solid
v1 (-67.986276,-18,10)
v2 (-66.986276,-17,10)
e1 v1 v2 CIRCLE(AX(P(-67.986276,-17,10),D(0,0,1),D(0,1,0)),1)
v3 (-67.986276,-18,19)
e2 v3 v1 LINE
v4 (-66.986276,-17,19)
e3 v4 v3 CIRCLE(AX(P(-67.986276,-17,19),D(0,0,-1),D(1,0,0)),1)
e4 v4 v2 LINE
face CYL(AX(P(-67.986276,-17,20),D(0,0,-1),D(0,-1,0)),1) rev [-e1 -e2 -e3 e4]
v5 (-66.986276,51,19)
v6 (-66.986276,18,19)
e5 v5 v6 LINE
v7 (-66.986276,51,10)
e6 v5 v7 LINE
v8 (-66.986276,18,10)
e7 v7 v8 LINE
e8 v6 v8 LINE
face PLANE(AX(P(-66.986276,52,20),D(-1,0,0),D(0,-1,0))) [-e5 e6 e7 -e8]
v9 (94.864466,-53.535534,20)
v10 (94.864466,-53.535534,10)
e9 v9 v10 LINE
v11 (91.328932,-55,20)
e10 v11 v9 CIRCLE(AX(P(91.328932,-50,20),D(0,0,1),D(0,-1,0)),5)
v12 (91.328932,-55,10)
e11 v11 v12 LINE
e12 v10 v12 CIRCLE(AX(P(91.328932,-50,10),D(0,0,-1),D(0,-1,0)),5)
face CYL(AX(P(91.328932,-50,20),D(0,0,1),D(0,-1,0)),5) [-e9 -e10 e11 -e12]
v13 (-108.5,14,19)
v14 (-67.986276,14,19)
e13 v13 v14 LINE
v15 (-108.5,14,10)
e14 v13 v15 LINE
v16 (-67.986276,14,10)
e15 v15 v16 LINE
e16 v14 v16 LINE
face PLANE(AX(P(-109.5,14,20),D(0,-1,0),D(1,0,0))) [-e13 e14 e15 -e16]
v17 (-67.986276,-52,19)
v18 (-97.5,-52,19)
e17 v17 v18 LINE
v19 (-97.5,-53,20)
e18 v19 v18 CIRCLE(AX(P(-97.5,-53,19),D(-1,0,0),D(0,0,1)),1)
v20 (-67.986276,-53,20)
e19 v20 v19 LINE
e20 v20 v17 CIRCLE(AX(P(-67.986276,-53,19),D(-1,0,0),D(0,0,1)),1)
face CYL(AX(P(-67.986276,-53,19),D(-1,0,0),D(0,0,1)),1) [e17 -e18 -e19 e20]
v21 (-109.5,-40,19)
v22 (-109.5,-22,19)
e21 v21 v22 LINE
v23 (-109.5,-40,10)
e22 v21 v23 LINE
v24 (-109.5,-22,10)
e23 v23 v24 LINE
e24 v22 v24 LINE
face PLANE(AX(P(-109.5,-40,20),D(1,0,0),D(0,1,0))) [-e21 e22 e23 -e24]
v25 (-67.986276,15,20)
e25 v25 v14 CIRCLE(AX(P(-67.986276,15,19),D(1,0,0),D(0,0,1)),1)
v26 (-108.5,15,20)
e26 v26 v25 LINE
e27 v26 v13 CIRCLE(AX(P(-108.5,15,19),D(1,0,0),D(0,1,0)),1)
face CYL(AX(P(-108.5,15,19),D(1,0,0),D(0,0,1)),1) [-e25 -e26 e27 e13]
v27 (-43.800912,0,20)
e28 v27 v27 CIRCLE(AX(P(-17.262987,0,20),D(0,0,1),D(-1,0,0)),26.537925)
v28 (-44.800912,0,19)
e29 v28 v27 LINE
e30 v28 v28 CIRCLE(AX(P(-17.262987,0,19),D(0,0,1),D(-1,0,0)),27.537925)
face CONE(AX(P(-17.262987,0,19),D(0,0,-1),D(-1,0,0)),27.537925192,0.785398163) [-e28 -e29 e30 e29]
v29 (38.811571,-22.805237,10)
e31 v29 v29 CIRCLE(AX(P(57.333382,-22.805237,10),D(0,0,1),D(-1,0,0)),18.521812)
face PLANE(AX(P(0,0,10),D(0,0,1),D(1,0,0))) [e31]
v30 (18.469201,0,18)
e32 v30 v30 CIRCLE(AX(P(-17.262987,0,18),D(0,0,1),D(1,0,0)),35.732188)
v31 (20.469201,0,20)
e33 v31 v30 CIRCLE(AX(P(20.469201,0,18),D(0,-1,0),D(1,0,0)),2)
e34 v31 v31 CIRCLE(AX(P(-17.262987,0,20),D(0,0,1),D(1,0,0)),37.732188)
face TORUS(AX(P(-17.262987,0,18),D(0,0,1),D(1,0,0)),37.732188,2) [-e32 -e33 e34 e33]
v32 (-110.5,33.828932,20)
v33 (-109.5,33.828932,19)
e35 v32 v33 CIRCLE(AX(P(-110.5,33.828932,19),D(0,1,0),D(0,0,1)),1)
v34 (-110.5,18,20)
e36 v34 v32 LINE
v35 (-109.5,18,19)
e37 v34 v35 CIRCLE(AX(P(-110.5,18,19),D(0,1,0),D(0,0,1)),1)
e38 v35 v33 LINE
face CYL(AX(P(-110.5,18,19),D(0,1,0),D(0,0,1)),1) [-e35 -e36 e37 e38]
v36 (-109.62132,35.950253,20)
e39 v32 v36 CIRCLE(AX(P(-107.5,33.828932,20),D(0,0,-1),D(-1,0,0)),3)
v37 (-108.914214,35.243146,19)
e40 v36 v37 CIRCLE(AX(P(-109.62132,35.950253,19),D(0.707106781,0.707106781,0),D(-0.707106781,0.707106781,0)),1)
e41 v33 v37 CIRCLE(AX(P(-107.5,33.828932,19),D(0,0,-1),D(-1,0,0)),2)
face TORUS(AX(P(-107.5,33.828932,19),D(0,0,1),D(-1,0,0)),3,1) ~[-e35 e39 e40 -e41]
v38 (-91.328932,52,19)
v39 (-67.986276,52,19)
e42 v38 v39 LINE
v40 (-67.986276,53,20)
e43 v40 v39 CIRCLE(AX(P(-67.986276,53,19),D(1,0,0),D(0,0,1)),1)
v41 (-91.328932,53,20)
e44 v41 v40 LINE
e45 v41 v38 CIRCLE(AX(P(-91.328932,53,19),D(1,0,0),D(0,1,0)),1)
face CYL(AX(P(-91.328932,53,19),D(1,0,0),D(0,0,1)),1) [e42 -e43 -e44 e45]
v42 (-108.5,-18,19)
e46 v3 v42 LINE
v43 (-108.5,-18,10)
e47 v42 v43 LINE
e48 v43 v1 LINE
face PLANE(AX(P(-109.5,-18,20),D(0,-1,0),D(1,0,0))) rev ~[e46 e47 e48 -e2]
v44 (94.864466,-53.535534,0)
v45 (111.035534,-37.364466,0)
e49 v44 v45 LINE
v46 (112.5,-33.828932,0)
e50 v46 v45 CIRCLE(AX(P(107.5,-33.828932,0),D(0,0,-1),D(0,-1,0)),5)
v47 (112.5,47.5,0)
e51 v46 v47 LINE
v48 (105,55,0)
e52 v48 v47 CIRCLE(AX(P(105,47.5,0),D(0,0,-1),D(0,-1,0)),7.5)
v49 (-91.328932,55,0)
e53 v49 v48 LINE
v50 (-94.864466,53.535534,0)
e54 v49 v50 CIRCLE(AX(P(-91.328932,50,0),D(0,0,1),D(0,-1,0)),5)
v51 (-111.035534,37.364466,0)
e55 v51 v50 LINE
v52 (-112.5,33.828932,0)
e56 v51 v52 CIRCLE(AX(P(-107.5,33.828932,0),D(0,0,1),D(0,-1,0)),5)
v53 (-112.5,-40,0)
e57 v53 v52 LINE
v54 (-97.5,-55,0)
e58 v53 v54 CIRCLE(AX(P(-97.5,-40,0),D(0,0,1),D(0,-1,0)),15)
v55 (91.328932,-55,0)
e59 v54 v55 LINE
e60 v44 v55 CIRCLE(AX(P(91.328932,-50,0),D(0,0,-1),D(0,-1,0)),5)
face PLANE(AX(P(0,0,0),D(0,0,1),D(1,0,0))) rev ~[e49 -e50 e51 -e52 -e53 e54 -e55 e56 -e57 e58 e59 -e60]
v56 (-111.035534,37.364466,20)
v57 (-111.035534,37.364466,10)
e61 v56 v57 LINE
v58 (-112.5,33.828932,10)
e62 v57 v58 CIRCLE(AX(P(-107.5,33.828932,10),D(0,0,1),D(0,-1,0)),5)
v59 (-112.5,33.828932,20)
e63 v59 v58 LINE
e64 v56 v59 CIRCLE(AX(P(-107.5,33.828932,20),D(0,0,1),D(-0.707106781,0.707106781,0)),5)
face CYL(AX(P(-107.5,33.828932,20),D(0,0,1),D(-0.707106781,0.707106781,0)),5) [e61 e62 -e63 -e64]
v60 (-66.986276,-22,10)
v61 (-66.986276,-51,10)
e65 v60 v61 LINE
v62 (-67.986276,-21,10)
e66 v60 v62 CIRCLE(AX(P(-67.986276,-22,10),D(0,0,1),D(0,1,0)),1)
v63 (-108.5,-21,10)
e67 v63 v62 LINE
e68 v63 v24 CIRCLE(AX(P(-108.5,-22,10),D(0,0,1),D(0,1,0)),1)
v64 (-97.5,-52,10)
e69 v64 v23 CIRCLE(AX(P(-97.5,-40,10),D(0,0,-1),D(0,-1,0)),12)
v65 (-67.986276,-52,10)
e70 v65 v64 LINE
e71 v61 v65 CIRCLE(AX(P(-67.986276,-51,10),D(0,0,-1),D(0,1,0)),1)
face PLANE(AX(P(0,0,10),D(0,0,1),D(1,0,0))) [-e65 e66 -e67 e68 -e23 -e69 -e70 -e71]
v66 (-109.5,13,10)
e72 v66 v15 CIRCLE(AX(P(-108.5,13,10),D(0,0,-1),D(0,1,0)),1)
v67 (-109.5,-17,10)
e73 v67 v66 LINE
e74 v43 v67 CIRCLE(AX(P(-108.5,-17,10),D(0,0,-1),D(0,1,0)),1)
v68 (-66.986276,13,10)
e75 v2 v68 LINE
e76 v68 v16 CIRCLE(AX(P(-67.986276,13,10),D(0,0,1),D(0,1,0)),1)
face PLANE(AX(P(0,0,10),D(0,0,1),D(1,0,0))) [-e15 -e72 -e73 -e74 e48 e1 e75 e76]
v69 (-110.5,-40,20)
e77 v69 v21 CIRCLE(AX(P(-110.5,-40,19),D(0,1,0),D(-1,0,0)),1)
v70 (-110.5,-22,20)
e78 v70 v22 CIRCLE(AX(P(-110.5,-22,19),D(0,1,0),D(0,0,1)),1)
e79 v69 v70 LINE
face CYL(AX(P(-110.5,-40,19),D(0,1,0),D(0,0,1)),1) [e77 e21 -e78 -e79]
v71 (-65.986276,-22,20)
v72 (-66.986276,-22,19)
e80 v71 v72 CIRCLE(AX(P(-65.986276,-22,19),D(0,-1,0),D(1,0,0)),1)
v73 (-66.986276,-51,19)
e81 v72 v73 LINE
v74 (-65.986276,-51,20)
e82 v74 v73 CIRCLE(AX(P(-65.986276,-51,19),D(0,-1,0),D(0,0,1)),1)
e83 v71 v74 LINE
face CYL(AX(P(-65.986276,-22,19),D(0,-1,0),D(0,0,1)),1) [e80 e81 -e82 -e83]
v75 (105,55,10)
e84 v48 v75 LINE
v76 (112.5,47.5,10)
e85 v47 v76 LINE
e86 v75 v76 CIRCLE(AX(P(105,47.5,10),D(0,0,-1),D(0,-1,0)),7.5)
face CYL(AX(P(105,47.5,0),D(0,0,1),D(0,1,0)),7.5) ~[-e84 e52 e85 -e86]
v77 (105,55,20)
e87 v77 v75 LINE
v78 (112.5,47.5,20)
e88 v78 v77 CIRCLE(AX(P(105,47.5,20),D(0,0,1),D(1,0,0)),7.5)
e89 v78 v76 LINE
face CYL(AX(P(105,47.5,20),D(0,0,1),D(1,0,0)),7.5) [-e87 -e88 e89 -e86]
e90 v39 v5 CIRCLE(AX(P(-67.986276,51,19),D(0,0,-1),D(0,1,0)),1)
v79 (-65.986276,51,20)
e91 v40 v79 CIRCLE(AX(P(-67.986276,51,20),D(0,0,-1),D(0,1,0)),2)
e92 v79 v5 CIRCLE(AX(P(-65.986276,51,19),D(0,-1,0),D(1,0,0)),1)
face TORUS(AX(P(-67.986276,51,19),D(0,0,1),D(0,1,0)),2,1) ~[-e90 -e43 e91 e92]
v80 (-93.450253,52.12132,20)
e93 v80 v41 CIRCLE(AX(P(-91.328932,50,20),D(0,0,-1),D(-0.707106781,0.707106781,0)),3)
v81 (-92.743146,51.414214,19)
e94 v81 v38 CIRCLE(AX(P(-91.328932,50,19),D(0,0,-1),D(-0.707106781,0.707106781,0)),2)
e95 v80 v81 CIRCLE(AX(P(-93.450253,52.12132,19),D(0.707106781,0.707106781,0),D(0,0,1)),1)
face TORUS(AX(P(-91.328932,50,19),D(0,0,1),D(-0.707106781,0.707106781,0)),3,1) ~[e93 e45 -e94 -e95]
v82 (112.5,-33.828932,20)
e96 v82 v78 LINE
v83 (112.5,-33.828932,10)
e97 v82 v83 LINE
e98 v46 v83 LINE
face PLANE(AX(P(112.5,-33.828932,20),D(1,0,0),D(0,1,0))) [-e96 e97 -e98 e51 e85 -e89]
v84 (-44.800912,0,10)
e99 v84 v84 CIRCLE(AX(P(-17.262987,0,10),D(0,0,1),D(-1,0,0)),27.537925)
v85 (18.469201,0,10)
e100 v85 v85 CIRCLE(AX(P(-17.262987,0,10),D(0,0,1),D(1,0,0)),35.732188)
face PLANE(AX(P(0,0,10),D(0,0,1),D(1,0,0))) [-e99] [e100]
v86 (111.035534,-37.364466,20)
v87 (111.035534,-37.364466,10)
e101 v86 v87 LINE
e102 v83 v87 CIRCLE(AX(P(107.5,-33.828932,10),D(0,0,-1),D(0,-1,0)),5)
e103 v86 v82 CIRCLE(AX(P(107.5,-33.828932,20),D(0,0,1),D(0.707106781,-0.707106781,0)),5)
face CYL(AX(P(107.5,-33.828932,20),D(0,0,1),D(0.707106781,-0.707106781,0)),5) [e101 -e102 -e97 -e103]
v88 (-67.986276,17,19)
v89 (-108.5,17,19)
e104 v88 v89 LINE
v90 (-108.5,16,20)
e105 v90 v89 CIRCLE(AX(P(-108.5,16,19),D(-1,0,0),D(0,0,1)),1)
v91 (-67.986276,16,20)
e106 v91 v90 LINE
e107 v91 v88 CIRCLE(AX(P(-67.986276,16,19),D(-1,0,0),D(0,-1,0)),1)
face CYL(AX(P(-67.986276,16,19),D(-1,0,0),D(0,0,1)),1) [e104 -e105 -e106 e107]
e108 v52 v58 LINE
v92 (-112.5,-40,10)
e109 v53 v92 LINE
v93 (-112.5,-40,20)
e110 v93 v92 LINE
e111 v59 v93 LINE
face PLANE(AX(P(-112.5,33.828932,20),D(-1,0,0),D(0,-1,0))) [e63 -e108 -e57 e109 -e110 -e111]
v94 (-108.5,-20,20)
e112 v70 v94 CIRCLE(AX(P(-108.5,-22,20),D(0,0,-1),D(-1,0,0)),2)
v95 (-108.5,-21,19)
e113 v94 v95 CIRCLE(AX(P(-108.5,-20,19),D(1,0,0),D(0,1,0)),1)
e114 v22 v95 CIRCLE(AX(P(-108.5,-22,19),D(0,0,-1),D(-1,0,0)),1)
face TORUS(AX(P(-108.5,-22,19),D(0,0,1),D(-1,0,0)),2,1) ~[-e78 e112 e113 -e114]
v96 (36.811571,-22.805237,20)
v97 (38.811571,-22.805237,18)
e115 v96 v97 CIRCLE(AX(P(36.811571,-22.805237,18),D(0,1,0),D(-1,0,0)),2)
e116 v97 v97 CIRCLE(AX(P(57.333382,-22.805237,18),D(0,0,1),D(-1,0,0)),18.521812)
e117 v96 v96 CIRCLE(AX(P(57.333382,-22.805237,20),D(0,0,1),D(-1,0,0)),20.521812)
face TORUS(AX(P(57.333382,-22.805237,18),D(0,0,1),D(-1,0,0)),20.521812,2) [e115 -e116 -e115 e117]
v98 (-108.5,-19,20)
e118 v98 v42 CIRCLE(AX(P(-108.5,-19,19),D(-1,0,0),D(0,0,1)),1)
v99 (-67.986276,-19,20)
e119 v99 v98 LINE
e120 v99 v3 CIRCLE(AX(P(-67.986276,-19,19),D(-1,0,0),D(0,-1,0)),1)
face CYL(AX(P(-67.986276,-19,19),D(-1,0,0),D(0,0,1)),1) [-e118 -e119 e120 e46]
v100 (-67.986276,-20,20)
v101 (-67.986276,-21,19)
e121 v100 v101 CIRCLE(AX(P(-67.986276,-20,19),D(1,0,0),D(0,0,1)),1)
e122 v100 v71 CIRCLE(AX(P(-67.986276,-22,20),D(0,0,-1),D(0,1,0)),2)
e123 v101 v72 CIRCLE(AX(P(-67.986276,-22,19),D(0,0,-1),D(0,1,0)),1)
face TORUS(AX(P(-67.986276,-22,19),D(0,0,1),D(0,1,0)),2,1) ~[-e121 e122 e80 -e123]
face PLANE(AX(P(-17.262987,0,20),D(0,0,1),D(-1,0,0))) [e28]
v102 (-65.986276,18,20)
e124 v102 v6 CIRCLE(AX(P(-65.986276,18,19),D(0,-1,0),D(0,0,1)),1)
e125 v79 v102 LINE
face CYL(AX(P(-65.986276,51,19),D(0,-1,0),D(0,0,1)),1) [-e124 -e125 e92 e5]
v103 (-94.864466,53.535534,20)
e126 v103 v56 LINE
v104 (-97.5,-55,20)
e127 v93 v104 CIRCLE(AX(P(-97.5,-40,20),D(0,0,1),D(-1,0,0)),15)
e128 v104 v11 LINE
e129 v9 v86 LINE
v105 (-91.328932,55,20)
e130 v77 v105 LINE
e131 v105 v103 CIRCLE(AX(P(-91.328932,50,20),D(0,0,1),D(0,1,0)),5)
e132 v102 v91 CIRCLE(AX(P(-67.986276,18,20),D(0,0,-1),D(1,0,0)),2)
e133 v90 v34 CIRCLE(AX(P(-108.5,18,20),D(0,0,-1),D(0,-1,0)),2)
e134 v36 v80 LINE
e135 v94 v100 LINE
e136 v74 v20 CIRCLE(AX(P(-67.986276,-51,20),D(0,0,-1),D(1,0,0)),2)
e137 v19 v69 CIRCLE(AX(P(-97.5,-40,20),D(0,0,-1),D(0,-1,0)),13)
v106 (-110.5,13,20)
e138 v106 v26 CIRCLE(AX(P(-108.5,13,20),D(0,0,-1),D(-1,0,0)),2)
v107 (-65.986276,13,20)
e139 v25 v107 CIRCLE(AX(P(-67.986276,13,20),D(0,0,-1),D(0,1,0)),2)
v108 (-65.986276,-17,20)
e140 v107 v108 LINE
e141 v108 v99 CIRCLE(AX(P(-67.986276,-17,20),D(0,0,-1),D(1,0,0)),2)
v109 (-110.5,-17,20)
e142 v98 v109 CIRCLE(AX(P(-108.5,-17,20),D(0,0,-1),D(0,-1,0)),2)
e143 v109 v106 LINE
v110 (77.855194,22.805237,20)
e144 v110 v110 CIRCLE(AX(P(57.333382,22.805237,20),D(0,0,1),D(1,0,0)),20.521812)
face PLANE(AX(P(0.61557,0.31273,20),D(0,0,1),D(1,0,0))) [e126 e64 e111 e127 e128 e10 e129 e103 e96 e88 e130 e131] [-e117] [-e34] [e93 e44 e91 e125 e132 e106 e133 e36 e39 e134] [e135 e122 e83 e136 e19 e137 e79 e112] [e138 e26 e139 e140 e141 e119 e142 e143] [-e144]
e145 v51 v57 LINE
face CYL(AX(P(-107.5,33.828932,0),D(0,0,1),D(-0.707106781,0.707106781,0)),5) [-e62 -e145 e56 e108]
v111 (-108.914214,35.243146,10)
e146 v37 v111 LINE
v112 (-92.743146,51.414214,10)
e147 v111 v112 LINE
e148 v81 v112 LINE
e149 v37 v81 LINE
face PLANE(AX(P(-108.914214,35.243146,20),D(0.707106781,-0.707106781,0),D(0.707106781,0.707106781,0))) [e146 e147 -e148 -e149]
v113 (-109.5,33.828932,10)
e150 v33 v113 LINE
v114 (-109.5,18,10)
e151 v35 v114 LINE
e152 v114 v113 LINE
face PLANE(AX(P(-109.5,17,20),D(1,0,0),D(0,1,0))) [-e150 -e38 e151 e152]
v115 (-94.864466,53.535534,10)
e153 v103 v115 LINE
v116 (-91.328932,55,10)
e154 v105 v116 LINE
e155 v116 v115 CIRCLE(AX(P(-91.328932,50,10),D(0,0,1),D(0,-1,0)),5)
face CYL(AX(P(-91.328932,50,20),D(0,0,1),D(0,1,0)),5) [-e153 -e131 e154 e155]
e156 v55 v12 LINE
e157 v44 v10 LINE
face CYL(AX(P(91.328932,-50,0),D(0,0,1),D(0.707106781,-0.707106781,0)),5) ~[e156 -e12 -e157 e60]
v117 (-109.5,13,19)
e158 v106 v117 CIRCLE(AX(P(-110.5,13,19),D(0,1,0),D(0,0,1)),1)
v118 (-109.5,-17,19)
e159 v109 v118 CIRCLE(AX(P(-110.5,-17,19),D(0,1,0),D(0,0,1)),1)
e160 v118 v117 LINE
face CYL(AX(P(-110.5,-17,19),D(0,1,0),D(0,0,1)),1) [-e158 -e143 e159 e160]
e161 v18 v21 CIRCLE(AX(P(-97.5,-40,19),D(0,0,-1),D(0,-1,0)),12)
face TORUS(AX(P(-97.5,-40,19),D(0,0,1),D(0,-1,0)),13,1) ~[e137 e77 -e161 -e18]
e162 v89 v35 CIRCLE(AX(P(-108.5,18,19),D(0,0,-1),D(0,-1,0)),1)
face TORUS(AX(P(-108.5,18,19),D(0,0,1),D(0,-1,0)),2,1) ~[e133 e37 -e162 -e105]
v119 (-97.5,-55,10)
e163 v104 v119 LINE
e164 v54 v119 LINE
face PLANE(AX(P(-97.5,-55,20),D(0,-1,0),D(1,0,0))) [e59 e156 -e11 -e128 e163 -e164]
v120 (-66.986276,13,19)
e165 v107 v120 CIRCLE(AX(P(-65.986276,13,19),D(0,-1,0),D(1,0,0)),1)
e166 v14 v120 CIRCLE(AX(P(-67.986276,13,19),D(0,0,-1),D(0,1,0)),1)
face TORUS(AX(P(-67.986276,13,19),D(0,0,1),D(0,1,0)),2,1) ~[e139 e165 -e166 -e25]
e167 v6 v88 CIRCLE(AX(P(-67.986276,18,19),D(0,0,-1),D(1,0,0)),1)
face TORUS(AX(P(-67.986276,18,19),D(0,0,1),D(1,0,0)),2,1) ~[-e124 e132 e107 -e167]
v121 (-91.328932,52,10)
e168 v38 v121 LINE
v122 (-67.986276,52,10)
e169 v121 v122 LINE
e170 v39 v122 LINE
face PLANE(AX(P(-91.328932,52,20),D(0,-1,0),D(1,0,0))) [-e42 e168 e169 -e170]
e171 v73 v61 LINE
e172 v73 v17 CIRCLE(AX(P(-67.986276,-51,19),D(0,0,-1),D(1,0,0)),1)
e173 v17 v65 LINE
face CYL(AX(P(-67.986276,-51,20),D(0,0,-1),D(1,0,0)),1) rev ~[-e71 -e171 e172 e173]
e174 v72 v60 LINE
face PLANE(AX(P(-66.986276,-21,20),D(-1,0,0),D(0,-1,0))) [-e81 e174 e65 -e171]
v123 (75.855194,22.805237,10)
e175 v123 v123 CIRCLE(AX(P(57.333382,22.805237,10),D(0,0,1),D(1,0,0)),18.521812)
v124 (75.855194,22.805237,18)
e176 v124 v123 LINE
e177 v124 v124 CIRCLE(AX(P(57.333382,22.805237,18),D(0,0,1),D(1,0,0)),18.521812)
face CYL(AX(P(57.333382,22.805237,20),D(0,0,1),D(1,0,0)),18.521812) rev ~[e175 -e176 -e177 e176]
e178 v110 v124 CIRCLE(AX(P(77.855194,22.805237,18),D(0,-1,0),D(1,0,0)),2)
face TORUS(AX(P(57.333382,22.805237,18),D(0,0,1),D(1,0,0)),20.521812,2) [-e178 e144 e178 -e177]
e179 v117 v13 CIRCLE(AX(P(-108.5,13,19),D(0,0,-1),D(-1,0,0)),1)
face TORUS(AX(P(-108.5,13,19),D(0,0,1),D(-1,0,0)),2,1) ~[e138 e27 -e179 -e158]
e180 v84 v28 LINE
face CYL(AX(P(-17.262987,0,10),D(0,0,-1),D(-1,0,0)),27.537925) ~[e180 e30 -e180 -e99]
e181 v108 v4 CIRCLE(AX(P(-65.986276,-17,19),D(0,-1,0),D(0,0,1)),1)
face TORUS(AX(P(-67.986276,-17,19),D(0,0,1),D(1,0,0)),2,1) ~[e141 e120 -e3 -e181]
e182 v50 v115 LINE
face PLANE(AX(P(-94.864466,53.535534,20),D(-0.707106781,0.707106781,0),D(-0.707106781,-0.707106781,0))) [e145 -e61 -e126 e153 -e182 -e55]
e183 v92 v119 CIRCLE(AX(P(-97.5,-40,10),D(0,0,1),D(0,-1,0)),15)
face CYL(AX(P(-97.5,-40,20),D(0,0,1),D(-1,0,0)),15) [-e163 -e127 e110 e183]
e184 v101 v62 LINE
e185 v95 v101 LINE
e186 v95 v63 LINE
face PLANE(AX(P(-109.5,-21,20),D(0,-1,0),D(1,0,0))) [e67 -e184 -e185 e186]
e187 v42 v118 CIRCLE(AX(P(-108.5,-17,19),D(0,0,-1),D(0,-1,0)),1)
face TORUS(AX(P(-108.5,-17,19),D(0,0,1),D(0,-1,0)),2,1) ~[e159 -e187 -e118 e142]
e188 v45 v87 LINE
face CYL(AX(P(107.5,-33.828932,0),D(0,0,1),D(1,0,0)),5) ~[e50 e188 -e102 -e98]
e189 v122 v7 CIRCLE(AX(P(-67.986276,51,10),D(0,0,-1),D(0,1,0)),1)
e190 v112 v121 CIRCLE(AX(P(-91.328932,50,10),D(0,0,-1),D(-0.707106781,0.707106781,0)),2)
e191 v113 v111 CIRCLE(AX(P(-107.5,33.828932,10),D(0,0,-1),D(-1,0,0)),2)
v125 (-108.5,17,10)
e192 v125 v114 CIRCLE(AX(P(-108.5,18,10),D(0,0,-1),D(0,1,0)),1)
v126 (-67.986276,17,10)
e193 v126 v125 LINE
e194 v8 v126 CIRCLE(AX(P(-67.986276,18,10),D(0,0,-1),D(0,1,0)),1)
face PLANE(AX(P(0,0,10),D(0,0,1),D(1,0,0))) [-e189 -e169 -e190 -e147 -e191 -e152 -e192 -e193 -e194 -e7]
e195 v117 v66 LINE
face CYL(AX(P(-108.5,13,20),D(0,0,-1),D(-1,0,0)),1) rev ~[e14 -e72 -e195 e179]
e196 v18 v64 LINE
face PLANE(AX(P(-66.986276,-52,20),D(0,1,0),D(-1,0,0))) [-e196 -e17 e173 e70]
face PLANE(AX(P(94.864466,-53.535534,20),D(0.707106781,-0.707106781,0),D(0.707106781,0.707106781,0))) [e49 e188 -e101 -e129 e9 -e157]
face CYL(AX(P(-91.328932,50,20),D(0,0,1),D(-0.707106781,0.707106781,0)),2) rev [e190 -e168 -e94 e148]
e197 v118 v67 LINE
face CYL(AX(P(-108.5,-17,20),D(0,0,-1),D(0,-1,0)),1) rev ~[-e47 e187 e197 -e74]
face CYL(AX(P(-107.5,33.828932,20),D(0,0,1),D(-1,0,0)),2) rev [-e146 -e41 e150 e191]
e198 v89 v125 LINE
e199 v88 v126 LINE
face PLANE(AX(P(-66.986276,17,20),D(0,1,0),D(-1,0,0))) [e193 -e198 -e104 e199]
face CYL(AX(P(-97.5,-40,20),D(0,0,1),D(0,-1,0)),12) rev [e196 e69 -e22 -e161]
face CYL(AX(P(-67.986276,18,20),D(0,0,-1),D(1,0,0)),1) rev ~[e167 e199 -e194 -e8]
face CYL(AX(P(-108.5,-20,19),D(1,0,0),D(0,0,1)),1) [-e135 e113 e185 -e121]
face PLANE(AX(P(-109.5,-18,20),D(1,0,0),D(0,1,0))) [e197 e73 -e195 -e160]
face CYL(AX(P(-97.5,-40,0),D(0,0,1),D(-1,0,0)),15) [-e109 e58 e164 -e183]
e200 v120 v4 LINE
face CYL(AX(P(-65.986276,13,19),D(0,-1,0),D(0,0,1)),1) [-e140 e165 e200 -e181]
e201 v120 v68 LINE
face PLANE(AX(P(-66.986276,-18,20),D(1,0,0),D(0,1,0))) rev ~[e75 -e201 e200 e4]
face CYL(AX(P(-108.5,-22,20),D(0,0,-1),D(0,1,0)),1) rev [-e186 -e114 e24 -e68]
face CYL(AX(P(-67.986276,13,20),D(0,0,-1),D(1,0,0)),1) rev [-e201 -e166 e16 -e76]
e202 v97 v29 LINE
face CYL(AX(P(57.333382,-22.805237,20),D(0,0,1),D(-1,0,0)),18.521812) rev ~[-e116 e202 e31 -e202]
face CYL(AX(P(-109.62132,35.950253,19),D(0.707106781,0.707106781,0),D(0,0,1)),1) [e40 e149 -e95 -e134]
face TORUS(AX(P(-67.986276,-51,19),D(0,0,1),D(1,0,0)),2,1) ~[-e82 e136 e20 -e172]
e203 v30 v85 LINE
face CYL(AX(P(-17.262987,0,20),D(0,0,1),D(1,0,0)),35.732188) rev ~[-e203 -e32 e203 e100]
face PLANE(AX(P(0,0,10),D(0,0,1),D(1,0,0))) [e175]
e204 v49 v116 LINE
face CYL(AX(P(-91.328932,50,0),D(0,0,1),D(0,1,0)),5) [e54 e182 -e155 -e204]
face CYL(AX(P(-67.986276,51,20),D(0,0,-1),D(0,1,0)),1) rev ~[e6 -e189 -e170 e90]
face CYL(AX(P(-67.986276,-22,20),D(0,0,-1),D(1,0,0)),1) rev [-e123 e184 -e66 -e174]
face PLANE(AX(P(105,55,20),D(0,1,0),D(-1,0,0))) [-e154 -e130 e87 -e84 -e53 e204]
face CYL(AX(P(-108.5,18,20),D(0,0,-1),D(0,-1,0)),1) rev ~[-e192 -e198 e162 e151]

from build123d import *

# Parameters (mm, degrees)
SKETCH1_W           = 225
SKETCH1_H           = 110
BOSS_EXTRUDE2_DEPTH = 10
CHAMFER1_SIZE       = 19.1
FILLET1_R           = 15
FILLET2_R           = 7.5
FILLET3_R           = 5
BOSS_EXTRUDE4_START = 10
SKETCH4_R           = 18.521811602
SKETCH4_W           = 42.513723821
SKETCH4_H           = 32
SKETCH4_R_2         = 35.732188173
BOSS_EXTRUDE4_DEPTH = 10
FILLET4_R           = 2
SKETCH4_5_R         = 27.537925192
BOSS_EXTRUDE5_DEPTH = 10
CHAMFER2_SIZE       = 1
FILLET5_R           = 1
FILLET6_R           = 1
FILLET7_R           = 1


with BuildPart() as part:
    # Sketch1 → Boss-Extrude2 (new body)
    with BuildSketch(Plane.XY):
        Rectangle(SKETCH1_W, SKETCH1_H)
    extrude(amount=BOSS_EXTRUDE2_DEPTH)

    # Chamfer1
    chamfer1_edges = [part.edges().sort_by_distance(p)[0] for p in [
        (112.5, -55, 5),
        (-112.5, 55, 5),
    ]]
    chamfer(chamfer1_edges, length=CHAMFER1_SIZE)

    # Fillet1
    fillet1_edges = [part.edges().sort_by_distance(p)[0] for p in [
        (-112.5, -55, 5),
    ]]
    fillet(fillet1_edges, radius=FILLET1_R)

    # Fillet2
    fillet2_edges = [part.edges().sort_by_distance(p)[0] for p in [
        (112.5, 55, 5),
    ]]
    fillet(fillet2_edges, radius=FILLET2_R)

    # Fillet3
    fillet3_edges = [part.edges().sort_by_distance(p)[0] for p in [
        (112.5, -35.9, 5),
        (93.4, -55, 5),
        (-112.5, 35.9, 5),
        (-93.4, 55, 5),
    ]]
    fillet(fillet3_edges, radius=FILLET3_R)

    # Sketch4 → Boss-Extrude4 (add)
    with BuildSketch(Plane.XY.offset(10).offset(BOSS_EXTRUDE4_START)):
        with BuildLine():
            ThreePointArc((112.5, 47.5), (110.303300859, 52.803300859), (105, 55))
            Line((105, 55), (-91.328932188, 55))
            ThreePointArc((-91.328932188, 55), (-93.24234935, 54.619397663), (-94.864466094, 53.535533906))
            Line((-94.864466094, 53.535533906), (-111.035533906, 37.364466094))
            ThreePointArc((-111.035533906, 37.364466094), (-112.119397663, 35.74234935), (-112.5, 33.828932188))
            Line((-112.5, 33.828932188), (-112.5, -40))
            ThreePointArc((-112.5, -40), (-108.106601718, -50.606601718), (-97.5, -55))
            Line((-97.5, -55), (91.328932188, -55))
            ThreePointArc((91.328932188, -55), (93.24234935, -54.619397663), (94.864466094, -53.535533906))
            Line((94.864466094, -53.535533906), (111.035533906, -37.364466094))
            ThreePointArc((111.035533906, -37.364466094), (112.119397663, -35.74234935), (112.5, -33.828932188))
            Line((112.5, -33.828932188), (112.5, 47.5))
        make_face()
        with BuildLine():
            Line((-66.986276179, -52), (-97.5, -52))
            ThreePointArc((-97.5, -52), (-105.985281374, -48.485281374), (-109.5, -40))
            Line((-109.5, -40), (-109.5, -21))
            Line((-109.5, -21), (-66.986276179, -21))
            Line((-66.986276179, -21), (-66.986276179, -52))
        make_face(mode=Mode.SUBTRACT)
        with Locations(Location((57.333382402, -22.805236931, 0), (0, 0, 180))):
            Circle(SKETCH4_R, mode=Mode.SUBTRACT)
        with BuildLine():
            Line((-66.986276179, 52), (-66.986276179, 17))
            Line((-66.986276179, 17), (-109.5, 17))
            Line((-109.5, 17), (-109.5, 33.828932188))
            ThreePointArc((-109.5, 33.828932188), (-109.347759065, 34.594299053), (-108.914213562, 35.243145751))
            Line((-108.914213562, 35.243145751), (-92.743145751, 51.414213562))
            ThreePointArc((-92.743145751, 51.414213562), (-92.094299053, 51.847759065), (-91.328932188, 52))
            Line((-91.328932188, 52), (-66.986276179, 52))
        make_face(mode=Mode.SUBTRACT)
        with Locations((-88.24313809, -2)):
            Rectangle(SKETCH4_W, SKETCH4_H, mode=Mode.SUBTRACT)
        with Locations((-17.262987298, 0)):
            Circle(SKETCH4_R_2, mode=Mode.SUBTRACT)
        with Locations((57.333382402, 22.805236931)):
            Circle(SKETCH4_R, mode=Mode.SUBTRACT)
    extrude(amount=-BOSS_EXTRUDE4_DEPTH)

    # Fillet4
    fillet4_edges = [part.edges().sort_by_distance(p)[0] for p in [
        (38.8115708, 22.805236931, 20),
        (-52.995175471, 0, 20),
        (75.855194004, -22.805236931, 20),
    ]]
    fillet(fillet4_edges, radius=FILLET4_R)

    # Sketch4<5> → Boss-Extrude5 (add)
    with BuildSketch(Plane.XY.offset(10)):
        with Locations(Location((-17.262987298, 0, 0), (0, 0, 180))):
            Circle(SKETCH4_5_R)
    extrude(amount=BOSS_EXTRUDE5_DEPTH)

    # Chamfer2
    chamfer2_edges = [part.edges().sort_by_distance(p)[0] for p in [
        (10.274937894, 0, 20),
    ]]
    chamfer(chamfer2_edges, length=CHAMFER2_SIZE)

    # Fillet5
    fillet5_edges = [part.edges().sort_by_distance(p)[0] for p in [
        (-109.5, -21, 15),
        (-66.986276179, -21, 15),
        (-66.986276179, -52, 15),
    ]]
    fillet(fillet5_edges, radius=FILLET5_R)

    # Fillet6
    fillet6_edges = [part.edges().sort_by_distance(p)[0] for p in [
        (-66.986276179, 52, 15),
        (-66.986276179, 17, 15),
        (-109.5, 17, 15),
        (-109.5, 14, 15),
        (-66.986276179, 14, 15),
        (-66.986276179, -18, 15),
        (-109.5, -18, 15),
    ]]
    fillet(fillet6_edges, radius=FILLET6_R)

    # Fillet7
    fillet7_edges = [part.edges().sort_by_distance(p)[0] for p in [
        (-109.5, 25.914466094, 20),
        (-109.347759065, 34.594299053, 20),
        (-100.828679656, 43.328679656, 20),
        (-82.743138089, -52, 20),
        (-105.985281374, -48.485281374, 20),
        (-92.094299053, 51.847759065, 20),
        (-66.986276179, -36.5, 20),
        (-88.243138089, -21, 20),
        (-109.5, -31, 20),
        (-67.279169397, -51.707106781, 20),
        (-67.279169397, -21.292893219, 20),
        (-109.207106781, -21.292893219, 20),
        (-109.5, -2, 20),
        (-88.243138089, -18, 20),
        (-88.243138089, 14, 20),
        (-66.986276179, -2, 20),
        (-88.243138089, 17, 20),
        (-66.986276179, 34.5, 20),
        (-79.657604183, 52, 20),
        (-109.207106781, -17.707106781, 20),
        (-109.207106781, 13.707106781, 20),
        (-67.279169397, -17.707106781, 20),
        (-67.279169397, 13.707106781, 20),
        (-109.207106781, 17.292893219, 20),
        (-67.279169397, 17.292893219, 20),
        (-67.279169397, 51.707106781, 20),
    ]]
    fillet(fillet7_edges, radius=FILLET7_R)


solid = part.part
